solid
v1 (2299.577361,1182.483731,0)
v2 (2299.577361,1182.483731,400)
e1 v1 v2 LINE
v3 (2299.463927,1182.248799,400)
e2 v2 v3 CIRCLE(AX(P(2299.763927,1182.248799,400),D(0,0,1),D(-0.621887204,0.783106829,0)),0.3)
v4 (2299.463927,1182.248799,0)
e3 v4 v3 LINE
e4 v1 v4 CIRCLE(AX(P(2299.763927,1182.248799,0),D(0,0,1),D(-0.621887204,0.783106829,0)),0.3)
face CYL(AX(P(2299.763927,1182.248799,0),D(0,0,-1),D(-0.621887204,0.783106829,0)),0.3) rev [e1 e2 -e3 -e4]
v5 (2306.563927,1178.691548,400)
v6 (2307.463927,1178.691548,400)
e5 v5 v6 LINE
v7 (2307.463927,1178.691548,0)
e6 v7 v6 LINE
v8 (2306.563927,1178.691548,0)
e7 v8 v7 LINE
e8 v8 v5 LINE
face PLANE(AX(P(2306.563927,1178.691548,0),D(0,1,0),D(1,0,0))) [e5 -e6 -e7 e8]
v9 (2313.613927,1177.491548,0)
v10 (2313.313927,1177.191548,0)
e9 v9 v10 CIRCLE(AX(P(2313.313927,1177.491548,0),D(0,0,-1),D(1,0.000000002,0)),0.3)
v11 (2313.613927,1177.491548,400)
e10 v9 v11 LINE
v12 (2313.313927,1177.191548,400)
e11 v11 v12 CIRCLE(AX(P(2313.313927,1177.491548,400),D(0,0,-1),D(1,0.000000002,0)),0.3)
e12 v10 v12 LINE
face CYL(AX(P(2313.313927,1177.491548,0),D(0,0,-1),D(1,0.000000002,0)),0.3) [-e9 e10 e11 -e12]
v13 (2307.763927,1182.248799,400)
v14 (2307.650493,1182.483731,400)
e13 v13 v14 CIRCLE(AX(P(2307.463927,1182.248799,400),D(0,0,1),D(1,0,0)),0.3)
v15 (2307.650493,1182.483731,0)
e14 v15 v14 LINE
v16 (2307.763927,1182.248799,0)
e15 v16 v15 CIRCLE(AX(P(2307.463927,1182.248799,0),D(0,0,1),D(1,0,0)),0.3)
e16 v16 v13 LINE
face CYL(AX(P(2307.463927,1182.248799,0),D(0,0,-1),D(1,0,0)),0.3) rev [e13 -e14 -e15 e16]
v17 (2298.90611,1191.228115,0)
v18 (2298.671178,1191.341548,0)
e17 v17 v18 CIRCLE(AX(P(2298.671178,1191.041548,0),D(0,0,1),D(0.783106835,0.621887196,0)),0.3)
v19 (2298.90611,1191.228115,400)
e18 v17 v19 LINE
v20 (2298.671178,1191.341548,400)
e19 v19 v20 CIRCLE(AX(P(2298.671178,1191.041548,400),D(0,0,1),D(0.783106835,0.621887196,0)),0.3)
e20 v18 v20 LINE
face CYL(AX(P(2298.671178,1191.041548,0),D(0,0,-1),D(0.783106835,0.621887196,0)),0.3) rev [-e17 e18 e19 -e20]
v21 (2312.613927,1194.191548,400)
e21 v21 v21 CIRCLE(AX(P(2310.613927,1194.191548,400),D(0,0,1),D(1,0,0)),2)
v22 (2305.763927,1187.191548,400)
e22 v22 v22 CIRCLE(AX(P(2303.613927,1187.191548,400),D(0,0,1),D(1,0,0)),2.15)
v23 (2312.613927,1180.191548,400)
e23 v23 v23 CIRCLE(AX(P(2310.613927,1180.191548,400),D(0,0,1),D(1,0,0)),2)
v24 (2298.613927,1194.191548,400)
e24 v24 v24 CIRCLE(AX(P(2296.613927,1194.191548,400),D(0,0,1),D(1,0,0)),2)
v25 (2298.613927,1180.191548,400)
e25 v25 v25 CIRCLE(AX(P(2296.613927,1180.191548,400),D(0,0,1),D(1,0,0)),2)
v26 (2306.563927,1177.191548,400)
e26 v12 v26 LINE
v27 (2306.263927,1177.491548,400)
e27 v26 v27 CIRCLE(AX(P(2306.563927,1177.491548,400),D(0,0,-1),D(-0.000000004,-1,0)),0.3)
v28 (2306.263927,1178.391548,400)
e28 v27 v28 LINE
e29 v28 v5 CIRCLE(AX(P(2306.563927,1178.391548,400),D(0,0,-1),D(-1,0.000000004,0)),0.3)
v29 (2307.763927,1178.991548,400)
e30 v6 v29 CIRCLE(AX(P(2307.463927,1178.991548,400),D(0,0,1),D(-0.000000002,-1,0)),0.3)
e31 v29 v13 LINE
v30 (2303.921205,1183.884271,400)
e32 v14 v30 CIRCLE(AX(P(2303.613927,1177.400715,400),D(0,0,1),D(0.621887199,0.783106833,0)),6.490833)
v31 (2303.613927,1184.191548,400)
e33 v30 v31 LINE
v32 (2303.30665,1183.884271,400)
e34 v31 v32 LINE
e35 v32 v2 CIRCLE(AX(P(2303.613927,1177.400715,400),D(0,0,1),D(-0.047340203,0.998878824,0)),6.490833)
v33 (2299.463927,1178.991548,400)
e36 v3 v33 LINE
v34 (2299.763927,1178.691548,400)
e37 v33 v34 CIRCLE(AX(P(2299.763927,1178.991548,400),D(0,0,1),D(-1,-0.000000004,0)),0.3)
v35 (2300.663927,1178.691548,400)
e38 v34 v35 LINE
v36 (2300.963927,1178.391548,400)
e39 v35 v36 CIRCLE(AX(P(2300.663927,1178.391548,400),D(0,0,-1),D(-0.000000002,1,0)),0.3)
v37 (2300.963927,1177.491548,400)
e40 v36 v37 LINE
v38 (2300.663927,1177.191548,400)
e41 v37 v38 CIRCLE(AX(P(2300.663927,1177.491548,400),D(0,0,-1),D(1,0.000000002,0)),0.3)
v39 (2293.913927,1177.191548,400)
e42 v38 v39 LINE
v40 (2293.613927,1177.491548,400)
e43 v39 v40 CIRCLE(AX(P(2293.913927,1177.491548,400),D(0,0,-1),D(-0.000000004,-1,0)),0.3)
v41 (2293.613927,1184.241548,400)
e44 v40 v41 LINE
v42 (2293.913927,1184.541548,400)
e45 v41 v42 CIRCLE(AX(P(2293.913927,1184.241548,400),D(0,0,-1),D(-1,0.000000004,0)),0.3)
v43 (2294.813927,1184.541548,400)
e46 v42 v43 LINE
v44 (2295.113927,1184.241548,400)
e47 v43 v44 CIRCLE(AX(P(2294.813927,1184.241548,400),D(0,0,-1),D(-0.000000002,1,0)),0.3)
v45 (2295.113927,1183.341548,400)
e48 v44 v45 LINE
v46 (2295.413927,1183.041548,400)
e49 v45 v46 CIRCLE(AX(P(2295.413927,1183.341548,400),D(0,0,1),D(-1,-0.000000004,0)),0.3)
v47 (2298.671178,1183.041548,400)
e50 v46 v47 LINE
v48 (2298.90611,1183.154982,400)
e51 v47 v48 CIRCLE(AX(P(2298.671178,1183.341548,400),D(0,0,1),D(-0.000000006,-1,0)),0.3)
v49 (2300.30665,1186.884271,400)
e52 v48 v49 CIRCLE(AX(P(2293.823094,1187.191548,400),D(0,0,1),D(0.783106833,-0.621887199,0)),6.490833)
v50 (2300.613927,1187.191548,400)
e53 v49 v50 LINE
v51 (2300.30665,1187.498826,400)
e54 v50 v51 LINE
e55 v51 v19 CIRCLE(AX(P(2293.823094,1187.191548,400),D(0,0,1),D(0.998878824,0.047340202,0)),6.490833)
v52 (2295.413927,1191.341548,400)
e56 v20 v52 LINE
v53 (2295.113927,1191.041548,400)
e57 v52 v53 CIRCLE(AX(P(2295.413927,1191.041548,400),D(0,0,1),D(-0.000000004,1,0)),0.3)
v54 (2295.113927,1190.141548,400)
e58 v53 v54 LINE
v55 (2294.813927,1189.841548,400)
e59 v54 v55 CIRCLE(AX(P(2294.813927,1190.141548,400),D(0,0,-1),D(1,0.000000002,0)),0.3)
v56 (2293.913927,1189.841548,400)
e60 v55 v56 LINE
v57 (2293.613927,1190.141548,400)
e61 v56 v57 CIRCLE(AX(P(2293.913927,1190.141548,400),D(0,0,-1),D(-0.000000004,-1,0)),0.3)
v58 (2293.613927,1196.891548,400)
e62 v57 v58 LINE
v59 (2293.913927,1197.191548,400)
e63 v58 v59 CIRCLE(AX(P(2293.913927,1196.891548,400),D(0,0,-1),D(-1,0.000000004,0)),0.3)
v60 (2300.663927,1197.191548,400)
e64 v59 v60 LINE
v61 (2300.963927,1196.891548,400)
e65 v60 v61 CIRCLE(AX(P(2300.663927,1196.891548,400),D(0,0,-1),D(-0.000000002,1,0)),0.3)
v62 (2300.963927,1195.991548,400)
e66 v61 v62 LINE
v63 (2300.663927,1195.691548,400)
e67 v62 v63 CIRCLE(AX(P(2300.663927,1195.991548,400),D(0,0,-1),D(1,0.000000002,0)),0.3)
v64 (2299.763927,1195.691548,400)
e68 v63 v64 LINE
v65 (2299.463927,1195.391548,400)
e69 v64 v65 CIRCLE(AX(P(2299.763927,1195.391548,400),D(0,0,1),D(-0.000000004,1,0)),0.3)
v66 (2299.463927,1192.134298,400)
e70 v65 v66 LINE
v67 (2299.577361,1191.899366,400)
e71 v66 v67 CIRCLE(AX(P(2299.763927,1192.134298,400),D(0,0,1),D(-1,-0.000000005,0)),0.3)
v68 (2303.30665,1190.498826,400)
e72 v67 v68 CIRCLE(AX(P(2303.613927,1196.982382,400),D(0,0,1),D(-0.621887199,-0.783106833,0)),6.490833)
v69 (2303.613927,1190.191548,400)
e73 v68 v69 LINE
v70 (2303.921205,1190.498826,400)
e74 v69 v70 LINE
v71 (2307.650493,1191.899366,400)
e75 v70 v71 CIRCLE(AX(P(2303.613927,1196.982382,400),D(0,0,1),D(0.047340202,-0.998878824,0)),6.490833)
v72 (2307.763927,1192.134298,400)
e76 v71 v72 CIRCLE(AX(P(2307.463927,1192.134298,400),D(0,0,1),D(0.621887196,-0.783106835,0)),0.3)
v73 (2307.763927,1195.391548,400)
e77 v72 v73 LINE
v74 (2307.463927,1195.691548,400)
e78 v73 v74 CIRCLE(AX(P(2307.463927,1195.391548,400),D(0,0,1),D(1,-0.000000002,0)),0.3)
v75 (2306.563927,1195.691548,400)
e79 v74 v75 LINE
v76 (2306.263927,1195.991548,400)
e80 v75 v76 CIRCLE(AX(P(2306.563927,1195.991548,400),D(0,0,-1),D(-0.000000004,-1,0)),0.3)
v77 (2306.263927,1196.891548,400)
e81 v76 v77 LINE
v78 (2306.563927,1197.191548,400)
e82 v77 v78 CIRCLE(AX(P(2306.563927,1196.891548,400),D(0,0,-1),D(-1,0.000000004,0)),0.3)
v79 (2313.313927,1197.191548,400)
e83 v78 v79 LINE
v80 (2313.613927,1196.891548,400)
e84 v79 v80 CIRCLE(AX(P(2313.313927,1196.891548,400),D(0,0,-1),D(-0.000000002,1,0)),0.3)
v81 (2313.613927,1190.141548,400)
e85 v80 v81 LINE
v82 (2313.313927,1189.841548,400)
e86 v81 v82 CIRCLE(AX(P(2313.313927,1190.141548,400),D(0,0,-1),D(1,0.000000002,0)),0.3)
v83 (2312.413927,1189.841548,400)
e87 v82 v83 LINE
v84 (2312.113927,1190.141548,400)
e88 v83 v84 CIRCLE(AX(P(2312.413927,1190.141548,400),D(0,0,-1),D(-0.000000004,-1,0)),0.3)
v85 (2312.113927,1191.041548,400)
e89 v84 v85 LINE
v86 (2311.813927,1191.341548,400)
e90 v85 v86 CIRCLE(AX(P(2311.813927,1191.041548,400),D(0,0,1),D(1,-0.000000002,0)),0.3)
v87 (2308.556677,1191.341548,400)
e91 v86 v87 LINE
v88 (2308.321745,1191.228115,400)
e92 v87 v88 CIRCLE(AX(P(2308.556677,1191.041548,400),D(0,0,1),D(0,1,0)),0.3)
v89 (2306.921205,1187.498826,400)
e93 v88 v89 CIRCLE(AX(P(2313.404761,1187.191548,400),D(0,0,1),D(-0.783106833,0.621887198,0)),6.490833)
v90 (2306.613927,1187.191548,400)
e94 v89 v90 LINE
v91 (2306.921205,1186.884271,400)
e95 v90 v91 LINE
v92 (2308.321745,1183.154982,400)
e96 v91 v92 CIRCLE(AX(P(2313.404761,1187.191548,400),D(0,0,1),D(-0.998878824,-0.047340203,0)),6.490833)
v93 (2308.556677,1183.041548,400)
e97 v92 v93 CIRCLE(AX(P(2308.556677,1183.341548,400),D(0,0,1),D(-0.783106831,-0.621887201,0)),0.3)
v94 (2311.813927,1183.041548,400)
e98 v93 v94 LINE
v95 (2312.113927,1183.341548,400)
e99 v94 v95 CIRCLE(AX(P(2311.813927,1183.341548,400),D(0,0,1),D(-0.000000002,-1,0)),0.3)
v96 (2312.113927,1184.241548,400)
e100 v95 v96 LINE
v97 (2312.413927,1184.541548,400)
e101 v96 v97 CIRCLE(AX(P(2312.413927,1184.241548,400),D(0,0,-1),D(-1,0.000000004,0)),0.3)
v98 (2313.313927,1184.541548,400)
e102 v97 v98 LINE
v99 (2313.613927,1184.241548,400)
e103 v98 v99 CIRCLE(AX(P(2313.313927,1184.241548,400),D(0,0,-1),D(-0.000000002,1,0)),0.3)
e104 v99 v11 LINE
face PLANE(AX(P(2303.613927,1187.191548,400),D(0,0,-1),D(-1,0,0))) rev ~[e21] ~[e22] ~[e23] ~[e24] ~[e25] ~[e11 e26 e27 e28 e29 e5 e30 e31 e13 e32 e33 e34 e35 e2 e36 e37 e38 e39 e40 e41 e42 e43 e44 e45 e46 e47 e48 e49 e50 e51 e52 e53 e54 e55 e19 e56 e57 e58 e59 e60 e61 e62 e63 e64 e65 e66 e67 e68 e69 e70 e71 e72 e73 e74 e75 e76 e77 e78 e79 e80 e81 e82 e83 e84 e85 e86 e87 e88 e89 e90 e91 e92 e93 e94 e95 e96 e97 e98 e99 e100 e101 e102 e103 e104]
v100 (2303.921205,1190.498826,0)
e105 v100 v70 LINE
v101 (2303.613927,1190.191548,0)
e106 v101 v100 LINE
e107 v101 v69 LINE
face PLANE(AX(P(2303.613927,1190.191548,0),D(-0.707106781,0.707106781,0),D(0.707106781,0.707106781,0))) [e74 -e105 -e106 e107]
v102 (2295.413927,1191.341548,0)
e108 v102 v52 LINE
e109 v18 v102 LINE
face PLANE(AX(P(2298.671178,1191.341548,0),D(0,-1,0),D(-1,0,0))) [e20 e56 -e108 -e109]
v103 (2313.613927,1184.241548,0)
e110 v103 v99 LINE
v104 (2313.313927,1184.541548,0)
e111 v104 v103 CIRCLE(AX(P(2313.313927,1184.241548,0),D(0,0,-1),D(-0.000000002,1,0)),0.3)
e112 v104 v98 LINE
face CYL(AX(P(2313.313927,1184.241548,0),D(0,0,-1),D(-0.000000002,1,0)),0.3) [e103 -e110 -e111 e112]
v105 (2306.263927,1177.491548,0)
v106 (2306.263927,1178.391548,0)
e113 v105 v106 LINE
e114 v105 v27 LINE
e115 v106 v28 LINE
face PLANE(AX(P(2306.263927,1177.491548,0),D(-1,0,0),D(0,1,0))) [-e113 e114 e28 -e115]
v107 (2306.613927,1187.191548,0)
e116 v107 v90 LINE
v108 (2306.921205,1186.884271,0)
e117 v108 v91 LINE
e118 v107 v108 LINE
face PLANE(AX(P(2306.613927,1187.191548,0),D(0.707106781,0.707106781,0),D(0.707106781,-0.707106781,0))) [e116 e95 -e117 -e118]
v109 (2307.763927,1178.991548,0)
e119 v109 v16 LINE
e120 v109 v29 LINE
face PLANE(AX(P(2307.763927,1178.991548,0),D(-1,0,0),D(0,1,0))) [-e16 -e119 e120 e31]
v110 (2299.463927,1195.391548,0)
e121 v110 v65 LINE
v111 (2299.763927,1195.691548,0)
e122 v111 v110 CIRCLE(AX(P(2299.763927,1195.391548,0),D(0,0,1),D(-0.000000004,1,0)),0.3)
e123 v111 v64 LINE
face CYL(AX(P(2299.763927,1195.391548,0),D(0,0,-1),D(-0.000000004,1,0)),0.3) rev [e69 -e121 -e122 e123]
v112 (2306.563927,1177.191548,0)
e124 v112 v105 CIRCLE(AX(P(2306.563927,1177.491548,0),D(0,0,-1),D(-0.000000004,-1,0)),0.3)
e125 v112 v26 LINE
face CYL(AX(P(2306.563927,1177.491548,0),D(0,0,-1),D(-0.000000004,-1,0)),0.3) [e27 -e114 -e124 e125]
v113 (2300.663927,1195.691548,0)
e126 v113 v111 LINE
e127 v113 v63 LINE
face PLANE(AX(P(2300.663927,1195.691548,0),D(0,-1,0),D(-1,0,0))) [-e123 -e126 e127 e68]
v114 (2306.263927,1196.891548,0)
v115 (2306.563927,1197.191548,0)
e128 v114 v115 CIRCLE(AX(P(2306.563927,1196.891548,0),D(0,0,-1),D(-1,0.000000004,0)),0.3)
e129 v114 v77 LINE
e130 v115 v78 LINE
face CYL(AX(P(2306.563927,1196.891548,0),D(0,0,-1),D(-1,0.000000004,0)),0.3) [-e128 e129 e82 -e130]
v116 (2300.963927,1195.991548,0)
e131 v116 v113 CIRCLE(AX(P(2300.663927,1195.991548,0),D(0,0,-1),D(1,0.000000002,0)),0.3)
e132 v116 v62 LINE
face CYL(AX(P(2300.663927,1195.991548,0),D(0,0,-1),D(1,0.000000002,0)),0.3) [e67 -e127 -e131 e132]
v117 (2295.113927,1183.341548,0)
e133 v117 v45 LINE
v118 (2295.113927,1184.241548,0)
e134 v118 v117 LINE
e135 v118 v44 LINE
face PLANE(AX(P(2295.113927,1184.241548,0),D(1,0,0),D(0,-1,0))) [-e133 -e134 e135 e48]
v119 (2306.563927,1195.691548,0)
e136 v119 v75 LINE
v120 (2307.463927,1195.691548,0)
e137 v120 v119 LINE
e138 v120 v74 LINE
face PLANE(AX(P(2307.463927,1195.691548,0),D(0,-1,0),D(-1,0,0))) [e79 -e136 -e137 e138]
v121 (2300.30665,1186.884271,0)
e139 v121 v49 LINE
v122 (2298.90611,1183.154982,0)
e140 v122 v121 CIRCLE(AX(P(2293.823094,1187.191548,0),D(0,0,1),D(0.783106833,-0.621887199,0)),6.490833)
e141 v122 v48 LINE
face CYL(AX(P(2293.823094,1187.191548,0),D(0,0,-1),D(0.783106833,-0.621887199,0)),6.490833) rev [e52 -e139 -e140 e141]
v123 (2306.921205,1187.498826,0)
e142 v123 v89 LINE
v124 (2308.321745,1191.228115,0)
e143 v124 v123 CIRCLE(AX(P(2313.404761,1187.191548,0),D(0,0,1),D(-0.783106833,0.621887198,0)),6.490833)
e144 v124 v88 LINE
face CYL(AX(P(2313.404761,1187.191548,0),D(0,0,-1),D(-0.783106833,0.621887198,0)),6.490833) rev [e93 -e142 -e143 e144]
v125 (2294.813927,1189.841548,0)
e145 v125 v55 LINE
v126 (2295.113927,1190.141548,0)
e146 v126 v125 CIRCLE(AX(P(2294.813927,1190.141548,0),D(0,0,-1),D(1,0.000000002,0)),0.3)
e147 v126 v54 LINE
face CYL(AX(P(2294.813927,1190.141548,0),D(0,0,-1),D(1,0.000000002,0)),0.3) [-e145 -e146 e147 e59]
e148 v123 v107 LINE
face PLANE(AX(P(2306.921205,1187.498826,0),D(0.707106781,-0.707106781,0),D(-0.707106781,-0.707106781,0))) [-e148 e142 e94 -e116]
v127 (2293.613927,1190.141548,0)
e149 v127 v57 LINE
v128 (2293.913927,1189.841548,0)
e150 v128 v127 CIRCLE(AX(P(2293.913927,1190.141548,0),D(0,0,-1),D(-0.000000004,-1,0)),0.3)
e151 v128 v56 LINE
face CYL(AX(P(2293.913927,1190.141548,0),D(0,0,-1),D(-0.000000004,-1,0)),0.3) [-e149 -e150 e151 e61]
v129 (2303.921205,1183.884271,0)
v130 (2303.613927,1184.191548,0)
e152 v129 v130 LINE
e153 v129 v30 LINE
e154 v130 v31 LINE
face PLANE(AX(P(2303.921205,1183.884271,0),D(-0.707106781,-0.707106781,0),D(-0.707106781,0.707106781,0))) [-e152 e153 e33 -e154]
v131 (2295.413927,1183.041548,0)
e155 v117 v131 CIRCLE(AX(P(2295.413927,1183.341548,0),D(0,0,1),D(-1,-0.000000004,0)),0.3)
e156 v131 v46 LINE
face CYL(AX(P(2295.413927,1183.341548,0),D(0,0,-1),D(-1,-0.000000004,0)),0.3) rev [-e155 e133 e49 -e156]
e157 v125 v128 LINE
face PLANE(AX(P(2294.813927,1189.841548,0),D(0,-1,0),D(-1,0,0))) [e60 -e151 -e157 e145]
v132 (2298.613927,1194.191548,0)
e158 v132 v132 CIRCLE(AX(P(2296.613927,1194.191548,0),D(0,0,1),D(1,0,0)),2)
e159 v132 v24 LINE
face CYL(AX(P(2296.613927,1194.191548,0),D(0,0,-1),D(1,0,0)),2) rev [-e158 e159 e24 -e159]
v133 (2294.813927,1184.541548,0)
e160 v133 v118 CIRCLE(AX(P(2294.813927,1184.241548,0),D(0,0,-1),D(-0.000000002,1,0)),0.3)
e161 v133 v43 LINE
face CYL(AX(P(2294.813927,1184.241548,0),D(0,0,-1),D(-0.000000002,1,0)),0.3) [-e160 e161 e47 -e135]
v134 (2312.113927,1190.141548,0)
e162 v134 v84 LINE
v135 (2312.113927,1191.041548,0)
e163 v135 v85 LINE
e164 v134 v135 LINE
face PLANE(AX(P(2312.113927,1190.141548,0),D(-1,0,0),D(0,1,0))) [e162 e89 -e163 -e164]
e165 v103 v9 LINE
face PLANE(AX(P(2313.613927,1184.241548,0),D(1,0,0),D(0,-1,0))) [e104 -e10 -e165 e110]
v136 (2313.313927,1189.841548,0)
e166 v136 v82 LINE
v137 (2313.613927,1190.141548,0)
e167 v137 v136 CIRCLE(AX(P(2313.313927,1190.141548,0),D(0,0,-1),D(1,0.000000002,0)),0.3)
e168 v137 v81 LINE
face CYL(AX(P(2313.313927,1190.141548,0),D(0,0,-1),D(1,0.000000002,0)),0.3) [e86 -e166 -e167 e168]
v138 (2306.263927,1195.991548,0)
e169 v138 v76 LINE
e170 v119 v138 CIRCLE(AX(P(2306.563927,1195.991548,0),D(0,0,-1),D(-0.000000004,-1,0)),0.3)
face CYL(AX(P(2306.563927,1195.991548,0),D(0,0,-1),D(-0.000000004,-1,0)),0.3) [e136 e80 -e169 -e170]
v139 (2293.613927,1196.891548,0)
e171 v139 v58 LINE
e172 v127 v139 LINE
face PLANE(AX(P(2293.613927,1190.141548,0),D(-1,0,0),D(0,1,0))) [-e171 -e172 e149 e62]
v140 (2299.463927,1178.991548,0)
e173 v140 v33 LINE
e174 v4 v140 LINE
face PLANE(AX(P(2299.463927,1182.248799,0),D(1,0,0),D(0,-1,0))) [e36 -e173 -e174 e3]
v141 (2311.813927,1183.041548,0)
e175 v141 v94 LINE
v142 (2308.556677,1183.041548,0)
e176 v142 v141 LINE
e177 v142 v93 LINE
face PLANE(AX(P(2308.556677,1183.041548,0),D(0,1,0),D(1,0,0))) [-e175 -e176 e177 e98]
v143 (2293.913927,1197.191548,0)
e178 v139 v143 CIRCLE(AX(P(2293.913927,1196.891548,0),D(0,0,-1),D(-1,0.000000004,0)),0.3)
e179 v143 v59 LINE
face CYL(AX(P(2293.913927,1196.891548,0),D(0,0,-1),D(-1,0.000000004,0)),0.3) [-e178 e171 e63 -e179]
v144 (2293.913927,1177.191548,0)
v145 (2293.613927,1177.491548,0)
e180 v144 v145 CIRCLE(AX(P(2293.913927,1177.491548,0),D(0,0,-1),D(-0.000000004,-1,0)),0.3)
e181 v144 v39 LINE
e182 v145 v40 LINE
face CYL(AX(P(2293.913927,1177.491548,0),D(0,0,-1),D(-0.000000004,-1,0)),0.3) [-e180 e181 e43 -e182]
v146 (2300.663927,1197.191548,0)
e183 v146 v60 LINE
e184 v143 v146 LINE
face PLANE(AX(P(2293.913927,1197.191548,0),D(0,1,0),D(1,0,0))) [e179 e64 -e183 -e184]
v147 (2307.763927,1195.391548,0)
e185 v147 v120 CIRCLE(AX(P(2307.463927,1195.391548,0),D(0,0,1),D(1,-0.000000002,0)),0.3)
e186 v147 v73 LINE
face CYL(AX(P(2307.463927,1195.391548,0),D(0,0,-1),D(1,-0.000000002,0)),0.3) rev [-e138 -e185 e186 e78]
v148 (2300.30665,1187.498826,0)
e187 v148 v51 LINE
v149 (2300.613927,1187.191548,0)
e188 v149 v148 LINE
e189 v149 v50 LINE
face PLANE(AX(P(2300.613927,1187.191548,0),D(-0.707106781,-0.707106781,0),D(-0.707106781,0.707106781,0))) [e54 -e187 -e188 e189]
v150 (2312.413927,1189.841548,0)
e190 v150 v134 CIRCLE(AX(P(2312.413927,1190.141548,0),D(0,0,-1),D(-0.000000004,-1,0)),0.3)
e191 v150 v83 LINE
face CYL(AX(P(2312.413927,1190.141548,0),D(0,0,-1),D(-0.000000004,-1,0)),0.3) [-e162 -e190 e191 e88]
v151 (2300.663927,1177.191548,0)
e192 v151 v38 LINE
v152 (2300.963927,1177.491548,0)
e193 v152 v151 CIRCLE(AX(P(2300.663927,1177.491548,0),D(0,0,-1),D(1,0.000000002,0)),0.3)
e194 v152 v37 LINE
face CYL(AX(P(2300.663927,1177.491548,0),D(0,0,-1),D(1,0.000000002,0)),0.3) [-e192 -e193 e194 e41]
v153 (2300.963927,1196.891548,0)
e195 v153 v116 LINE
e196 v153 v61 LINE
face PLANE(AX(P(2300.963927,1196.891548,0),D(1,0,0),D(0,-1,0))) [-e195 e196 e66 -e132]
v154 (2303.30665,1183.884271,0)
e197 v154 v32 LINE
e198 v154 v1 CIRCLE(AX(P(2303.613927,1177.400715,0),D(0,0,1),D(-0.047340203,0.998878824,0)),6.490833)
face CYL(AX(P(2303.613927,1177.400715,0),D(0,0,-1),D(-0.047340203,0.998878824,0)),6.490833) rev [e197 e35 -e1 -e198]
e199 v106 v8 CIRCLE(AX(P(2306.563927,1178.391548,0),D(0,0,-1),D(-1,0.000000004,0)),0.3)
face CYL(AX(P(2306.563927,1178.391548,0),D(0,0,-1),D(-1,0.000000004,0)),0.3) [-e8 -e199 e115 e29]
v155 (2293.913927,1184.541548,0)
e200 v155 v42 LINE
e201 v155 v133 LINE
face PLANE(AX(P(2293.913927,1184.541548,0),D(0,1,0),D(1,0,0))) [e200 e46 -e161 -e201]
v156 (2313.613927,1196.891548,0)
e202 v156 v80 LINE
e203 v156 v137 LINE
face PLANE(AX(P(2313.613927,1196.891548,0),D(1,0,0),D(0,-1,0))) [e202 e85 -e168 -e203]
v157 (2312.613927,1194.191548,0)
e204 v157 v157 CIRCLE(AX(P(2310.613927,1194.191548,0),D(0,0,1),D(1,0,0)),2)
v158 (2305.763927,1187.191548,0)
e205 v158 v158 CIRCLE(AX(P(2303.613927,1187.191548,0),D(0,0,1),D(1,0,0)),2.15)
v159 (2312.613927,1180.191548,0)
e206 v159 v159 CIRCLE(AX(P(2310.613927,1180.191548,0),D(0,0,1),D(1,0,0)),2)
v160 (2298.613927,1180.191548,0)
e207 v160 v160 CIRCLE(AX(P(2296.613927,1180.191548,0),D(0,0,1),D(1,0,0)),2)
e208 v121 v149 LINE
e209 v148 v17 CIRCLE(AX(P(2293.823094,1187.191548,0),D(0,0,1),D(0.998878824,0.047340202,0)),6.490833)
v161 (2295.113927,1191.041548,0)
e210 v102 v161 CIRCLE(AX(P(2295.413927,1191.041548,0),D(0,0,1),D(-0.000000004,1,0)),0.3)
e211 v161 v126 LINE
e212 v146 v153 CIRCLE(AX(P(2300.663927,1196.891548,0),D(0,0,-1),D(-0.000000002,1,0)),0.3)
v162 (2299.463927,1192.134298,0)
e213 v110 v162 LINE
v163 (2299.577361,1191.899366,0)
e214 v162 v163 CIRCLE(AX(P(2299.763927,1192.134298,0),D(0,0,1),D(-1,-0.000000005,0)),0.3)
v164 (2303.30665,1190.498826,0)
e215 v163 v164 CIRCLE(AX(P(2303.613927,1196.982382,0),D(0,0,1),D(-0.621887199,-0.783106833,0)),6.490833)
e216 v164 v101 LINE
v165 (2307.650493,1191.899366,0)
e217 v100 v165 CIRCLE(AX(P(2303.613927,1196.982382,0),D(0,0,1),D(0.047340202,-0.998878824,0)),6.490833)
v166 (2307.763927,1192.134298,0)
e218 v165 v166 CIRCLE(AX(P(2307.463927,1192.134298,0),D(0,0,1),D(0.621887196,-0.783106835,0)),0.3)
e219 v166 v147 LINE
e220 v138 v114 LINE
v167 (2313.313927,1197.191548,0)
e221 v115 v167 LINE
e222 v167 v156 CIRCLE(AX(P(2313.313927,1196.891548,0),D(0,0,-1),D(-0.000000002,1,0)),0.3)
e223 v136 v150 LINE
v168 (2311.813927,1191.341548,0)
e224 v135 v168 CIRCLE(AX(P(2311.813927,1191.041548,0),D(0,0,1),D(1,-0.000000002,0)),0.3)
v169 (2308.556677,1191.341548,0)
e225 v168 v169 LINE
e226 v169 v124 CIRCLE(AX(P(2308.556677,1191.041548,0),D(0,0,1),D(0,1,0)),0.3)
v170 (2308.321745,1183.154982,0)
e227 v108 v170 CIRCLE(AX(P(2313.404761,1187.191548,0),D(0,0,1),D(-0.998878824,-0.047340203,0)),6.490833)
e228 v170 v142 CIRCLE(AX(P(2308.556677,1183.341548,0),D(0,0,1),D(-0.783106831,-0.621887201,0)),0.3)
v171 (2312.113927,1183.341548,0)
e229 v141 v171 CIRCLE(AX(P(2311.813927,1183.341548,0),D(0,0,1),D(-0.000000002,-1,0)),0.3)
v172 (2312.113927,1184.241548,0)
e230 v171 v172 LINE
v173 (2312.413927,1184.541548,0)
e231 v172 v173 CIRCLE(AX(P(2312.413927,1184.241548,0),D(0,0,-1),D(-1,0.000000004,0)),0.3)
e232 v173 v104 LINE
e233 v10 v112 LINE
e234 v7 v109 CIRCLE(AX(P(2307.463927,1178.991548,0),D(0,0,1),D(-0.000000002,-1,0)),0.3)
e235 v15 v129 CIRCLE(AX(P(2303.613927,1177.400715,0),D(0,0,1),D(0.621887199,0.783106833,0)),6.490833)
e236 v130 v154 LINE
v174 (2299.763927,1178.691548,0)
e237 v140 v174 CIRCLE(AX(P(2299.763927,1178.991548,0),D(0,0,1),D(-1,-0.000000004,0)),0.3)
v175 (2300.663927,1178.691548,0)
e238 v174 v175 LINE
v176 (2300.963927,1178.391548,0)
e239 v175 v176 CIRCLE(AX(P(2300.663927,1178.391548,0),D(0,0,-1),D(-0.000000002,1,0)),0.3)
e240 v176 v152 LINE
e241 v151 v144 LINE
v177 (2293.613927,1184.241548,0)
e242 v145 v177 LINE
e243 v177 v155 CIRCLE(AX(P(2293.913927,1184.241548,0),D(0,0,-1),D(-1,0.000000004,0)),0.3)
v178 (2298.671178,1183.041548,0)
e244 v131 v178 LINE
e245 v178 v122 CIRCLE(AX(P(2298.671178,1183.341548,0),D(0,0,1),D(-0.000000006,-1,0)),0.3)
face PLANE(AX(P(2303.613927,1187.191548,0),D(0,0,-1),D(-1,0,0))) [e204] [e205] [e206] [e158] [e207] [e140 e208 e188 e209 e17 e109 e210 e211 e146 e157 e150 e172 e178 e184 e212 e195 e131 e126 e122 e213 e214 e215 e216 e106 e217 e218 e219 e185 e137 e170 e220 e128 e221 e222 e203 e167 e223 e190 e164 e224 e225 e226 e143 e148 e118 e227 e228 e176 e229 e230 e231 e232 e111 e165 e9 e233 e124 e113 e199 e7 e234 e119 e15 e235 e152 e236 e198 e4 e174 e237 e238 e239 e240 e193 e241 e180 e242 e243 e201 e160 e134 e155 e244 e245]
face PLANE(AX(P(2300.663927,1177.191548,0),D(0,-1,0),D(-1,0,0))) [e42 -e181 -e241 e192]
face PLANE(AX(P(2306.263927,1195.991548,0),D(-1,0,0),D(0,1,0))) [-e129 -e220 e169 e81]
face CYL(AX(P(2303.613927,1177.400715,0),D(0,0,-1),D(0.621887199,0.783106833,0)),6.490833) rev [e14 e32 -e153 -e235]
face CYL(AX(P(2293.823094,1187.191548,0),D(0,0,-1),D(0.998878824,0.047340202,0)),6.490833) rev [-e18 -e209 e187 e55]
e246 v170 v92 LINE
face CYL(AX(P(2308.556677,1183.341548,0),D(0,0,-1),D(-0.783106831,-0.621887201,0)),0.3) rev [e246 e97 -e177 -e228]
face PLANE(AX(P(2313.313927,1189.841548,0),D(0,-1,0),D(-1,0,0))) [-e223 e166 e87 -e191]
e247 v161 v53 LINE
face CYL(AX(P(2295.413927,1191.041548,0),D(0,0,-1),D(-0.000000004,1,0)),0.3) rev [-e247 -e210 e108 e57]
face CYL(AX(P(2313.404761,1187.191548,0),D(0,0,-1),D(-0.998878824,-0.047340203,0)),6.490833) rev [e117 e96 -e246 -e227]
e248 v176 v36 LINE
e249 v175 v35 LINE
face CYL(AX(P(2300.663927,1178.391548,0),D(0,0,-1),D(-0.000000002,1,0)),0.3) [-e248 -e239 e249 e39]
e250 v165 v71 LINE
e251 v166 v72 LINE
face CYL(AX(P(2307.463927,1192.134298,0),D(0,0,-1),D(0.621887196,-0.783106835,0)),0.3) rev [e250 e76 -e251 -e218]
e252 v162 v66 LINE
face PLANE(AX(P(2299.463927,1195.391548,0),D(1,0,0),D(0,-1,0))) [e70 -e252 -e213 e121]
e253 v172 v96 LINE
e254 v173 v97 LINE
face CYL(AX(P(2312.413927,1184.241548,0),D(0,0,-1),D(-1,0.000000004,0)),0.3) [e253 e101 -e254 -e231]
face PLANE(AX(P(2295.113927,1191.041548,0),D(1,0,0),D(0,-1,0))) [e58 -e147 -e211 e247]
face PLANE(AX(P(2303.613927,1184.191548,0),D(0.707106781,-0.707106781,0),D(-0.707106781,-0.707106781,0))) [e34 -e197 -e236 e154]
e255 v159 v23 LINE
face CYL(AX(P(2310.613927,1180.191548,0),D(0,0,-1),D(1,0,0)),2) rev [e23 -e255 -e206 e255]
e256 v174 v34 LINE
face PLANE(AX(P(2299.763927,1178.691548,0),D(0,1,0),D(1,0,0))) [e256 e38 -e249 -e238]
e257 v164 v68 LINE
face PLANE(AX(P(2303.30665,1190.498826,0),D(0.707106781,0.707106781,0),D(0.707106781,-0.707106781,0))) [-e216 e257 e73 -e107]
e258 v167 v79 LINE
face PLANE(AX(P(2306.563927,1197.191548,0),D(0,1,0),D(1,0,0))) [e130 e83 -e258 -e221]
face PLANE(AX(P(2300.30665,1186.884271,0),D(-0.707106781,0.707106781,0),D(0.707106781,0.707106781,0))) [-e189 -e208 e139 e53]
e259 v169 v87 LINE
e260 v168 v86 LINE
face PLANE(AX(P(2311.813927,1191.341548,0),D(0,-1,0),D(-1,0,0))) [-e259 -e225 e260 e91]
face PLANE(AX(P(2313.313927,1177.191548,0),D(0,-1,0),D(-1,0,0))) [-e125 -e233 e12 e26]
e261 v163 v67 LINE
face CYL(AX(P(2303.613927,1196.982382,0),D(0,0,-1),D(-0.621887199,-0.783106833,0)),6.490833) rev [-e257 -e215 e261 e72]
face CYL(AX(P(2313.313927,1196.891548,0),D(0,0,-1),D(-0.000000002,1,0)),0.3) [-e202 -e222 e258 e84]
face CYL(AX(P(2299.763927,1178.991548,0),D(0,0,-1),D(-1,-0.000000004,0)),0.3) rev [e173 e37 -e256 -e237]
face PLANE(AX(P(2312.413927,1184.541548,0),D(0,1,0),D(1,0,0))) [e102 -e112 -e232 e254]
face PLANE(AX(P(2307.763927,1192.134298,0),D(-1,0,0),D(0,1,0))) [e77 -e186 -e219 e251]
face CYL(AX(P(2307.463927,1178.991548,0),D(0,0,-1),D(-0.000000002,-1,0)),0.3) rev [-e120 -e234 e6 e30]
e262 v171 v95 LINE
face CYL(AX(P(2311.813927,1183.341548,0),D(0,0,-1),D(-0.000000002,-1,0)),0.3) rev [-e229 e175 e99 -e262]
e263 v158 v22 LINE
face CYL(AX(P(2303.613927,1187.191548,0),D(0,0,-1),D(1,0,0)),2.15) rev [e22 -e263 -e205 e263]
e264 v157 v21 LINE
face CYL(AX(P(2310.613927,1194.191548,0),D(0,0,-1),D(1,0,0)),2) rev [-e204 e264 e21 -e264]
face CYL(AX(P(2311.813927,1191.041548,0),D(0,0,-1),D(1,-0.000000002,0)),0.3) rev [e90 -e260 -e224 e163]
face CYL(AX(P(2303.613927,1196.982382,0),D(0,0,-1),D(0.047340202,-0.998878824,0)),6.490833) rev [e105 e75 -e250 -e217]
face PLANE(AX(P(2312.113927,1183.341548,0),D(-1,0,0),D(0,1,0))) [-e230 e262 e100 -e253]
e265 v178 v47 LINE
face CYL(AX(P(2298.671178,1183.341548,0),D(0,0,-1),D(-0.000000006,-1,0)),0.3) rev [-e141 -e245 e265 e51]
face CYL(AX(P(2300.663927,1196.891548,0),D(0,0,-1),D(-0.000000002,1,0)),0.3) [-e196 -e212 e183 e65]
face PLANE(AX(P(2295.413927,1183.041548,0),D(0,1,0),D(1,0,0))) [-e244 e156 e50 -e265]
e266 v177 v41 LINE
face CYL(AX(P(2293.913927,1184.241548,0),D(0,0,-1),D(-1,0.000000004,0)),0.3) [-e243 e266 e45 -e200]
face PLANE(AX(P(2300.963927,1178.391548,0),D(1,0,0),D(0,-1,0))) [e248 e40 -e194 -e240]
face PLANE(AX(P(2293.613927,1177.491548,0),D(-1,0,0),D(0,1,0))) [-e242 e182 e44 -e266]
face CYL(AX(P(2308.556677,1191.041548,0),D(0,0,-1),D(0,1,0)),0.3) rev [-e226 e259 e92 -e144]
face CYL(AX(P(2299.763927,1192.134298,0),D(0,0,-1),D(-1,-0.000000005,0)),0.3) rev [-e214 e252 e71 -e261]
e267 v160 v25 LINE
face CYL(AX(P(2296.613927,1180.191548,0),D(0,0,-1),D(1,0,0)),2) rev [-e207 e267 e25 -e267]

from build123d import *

# Parameters (mm, degrees)
MODEL_R         = 2.15
MODEL_R_2       = 2
EXTRUDE_1_DEPTH = 400


with BuildPart() as part:
    # Model → 보스-돌출1 (new body)
    with BuildSketch(Plane.XY):
        with BuildLine():
            Line((2307.763927197, 1192.134297913), (2307.763927197, 1195.391548465))
            ThreePointArc((2307.763927197, 1195.391548465), (2307.676059232, 1195.603680499), (2307.463927197, 1195.691548465))
            Line((2307.463927197, 1195.691548465), (2306.563927197, 1195.691548465))
            ThreePointArc((2306.563927197, 1195.691548465), (2306.351795163, 1195.779416431), (2306.263927197, 1195.991548465))
            Line((2306.263927197, 1195.991548465), (2306.263927197, 1196.891548465))
            ThreePointArc((2306.263927197, 1196.891548465), (2306.351795163, 1197.103680499), (2306.563927197, 1197.191548465))
            Line((2306.563927197, 1197.191548465), (2313.313927197, 1197.191548465))
            ThreePointArc((2313.313927197, 1197.191548465), (2313.526059232, 1197.103680499), (2313.613927197, 1196.891548465))
            Line((2313.613927197, 1196.891548465), (2313.613927197, 1190.141548465))
            ThreePointArc((2313.613927197, 1190.141548465), (2313.526059232, 1189.929416431), (2313.313927197, 1189.841548465))
            Line((2313.313927197, 1189.841548465), (2312.413927197, 1189.841548465))
            ThreePointArc((2312.413927197, 1189.841548465), (2312.201795163, 1189.929416431), (2312.113927197, 1190.141548465))
            Line((2312.113927197, 1190.141548465), (2312.113927197, 1191.041548465))
            ThreePointArc((2312.113927197, 1191.041548465), (2312.026059232, 1191.253680499), (2311.813927197, 1191.341548465))
            Line((2311.813927197, 1191.341548465), (2308.556676645, 1191.341548465))
            ThreePointArc((2308.556676645, 1191.341548465), (2308.426234796, 1191.311705686), (2308.321744595, 1191.228114625))
            ThreePointArc((2308.321744595, 1191.228114625), (2307.328306374, 1189.47356999), (2306.921204563, 1187.498825831))
            Line((2306.921204563, 1187.498825831), (2306.613927197, 1187.191548465))
            Line((2306.613927197, 1187.191548465), (2306.921204563, 1186.884271099))
            ThreePointArc((2306.921204563, 1186.884271099), (2307.328306374, 1184.90952694), (2308.321744595, 1183.154982305))
            ThreePointArc((2308.321744595, 1183.154982305), (2308.426234796, 1183.071391244), (2308.556676645, 1183.041548465))
            Line((2308.556676645, 1183.041548465), (2311.813927197, 1183.041548465))
            ThreePointArc((2311.813927197, 1183.041548465), (2312.026059232, 1183.129416431), (2312.113927197, 1183.341548465))
            Line((2312.113927197, 1183.341548465), (2312.113927197, 1184.241548465))
            ThreePointArc((2312.113927197, 1184.241548465), (2312.201795163, 1184.453680499), (2312.413927197, 1184.541548465))
            Line((2312.413927197, 1184.541548465), (2313.313927197, 1184.541548465))
            ThreePointArc((2313.313927197, 1184.541548465), (2313.526059232, 1184.453680499), (2313.613927197, 1184.241548465))
            Line((2313.613927197, 1184.241548465), (2313.613927197, 1177.491548465))
            ThreePointArc((2313.613927197, 1177.491548465), (2313.526059232, 1177.279416431), (2313.313927197, 1177.191548465))
            Line((2313.313927197, 1177.191548465), (2306.563927197, 1177.191548465))
            ThreePointArc((2306.563927197, 1177.191548465), (2306.351795163, 1177.279416431), (2306.263927197, 1177.491548465))
            Line((2306.263927197, 1177.491548465), (2306.263927197, 1178.391548465))
            ThreePointArc((2306.263927197, 1178.391548465), (2306.351795163, 1178.603680499), (2306.563927197, 1178.691548465))
            Line((2306.563927197, 1178.691548465), (2307.463927197, 1178.691548465))
            ThreePointArc((2307.463927197, 1178.691548465), (2307.676059232, 1178.779416431), (2307.763927197, 1178.991548465))
            Line((2307.763927197, 1178.991548465), (2307.763927197, 1182.248799017))
            ThreePointArc((2307.763927197, 1182.248799017), (2307.734084418, 1182.379240866), (2307.650493357, 1182.483731067))
            ThreePointArc((2307.650493357, 1182.483731067), (2305.895948722, 1183.477169289), (2303.921204563, 1183.884271099))
            Line((2303.921204563, 1183.884271099), (2303.613927197, 1184.191548465))
            Line((2303.613927197, 1184.191548465), (2303.306649831, 1183.884271099))
            ThreePointArc((2303.306649831, 1183.884271099), (2301.331905673, 1183.477169289), (2299.577361038, 1182.483731067))
            ThreePointArc((2299.577361038, 1182.483731067), (2299.493769977, 1182.379240866), (2299.463927197, 1182.248799017))
            Line((2299.463927197, 1182.248799017), (2299.463927197, 1178.991548465))
            ThreePointArc((2299.463927197, 1178.991548465), (2299.551795163, 1178.779416431), (2299.763927197, 1178.691548465))
            Line((2299.763927197, 1178.691548465), (2300.663927197, 1178.691548465))
            ThreePointArc((2300.663927197, 1178.691548465), (2300.876059232, 1178.603680499), (2300.963927197, 1178.391548465))
            Line((2300.963927197, 1178.391548465), (2300.963927197, 1177.491548465))
            ThreePointArc((2300.963927197, 1177.491548465), (2300.876059232, 1177.279416431), (2300.663927197, 1177.191548465))
            Line((2300.663927197, 1177.191548465), (2293.913927197, 1177.191548465))
            ThreePointArc((2293.913927197, 1177.191548465), (2293.701795163, 1177.279416431), (2293.613927197, 1177.491548465))
            Line((2293.613927197, 1177.491548465), (2293.613927197, 1184.241548465))
            ThreePointArc((2293.613927197, 1184.241548465), (2293.701795163, 1184.453680499), (2293.913927197, 1184.541548465))
            Line((2293.913927197, 1184.541548465), (2294.813927197, 1184.541548465))
            ThreePointArc((2294.813927197, 1184.541548465), (2295.026059232, 1184.453680499), (2295.113927197, 1184.241548465))
            Line((2295.113927197, 1184.241548465), (2295.113927197, 1183.341548465))
            ThreePointArc((2295.113927197, 1183.341548465), (2295.201795163, 1183.129416431), (2295.413927197, 1183.041548465))
            Line((2295.413927197, 1183.041548465), (2298.671177749, 1183.041548465))
            ThreePointArc((2298.671177749, 1183.041548465), (2298.801619599, 1183.071391244), (2298.906109799, 1183.154982305))
            ThreePointArc((2298.906109799, 1183.154982305), (2299.899548021, 1184.90952694), (2300.306649831, 1186.884271099))
            Line((2300.306649831, 1186.884271099), (2300.613927197, 1187.191548465))
            Line((2300.613927197, 1187.191548465), (2300.306649831, 1187.498825831))
            ThreePointArc((2300.306649831, 1187.498825831), (2299.899548021, 1189.47356999), (2298.906109799, 1191.228114625))
            ThreePointArc((2298.906109799, 1191.228114625), (2298.801619599, 1191.311705686), (2298.671177749, 1191.341548465))
            Line((2298.671177749, 1191.341548465), (2295.413927197, 1191.341548465))
            ThreePointArc((2295.413927197, 1191.341548465), (2295.201795163, 1191.253680499), (2295.113927197, 1191.041548465))
            Line((2295.113927197, 1191.041548465), (2295.113927197, 1190.141548465))
            ThreePointArc((2295.113927197, 1190.141548465), (2295.026059232, 1189.929416431), (2294.813927197, 1189.841548465))
            Line((2294.813927197, 1189.841548465), (2293.913927197, 1189.841548465))
            ThreePointArc((2293.913927197, 1189.841548465), (2293.701795163, 1189.929416431), (2293.613927197, 1190.141548465))
            Line((2293.613927197, 1190.141548465), (2293.613927197, 1196.891548465))
            ThreePointArc((2293.613927197, 1196.891548465), (2293.701795163, 1197.103680499), (2293.913927197, 1197.191548465))
            Line((2293.913927197, 1197.191548465), (2300.663927197, 1197.191548465))
            ThreePointArc((2300.663927197, 1197.191548465), (2300.876059232, 1197.103680499), (2300.963927197, 1196.891548465))
            Line((2300.963927197, 1196.891548465), (2300.963927197, 1195.991548465))
            ThreePointArc((2300.963927197, 1195.991548465), (2300.876059232, 1195.779416431), (2300.663927197, 1195.691548465))
            Line((2300.663927197, 1195.691548465), (2299.763927197, 1195.691548465))
            ThreePointArc((2299.763927197, 1195.691548465), (2299.551795163, 1195.603680499), (2299.463927197, 1195.391548465))
            Line((2299.463927197, 1195.391548465), (2299.463927197, 1192.134297913))
            ThreePointArc((2299.463927197, 1192.134297913), (2299.493769977, 1192.003856063), (2299.577361038, 1191.899365863))
            ThreePointArc((2299.577361038, 1191.899365863), (2301.331905673, 1190.905927641), (2303.306649831, 1190.498825831))
            Line((2303.306649831, 1190.498825831), (2303.613927197, 1190.191548465))
            Line((2303.613927197, 1190.191548465), (2303.921204563, 1190.498825831))
            ThreePointArc((2303.921204563, 1190.498825831), (2305.895948722, 1190.905927641), (2307.650493357, 1191.899365863))
            ThreePointArc((2307.650493357, 1191.899365863), (2307.734084418, 1192.003856063), (2307.763927197, 1192.134297913))
        make_face()
        with Locations((2303.613927197, 1187.191548465)):
            Circle(MODEL_R, mode=Mode.SUBTRACT)
        with Locations((2296.613927197, 1194.191548465)):
            Circle(MODEL_R_2, mode=Mode.SUBTRACT)
        with Locations((2296.613927197, 1180.191548465)):
            Circle(MODEL_R_2, mode=Mode.SUBTRACT)
        with Locations((2310.613927197, 1194.191548465)):
            Circle(MODEL_R_2, mode=Mode.SUBTRACT)
        with Locations((2310.613927197, 1180.191548465)):
            Circle(MODEL_R_2, mode=Mode.SUBTRACT)
    extrude(amount=EXTRUDE_1_DEPTH)


solid = part.part
